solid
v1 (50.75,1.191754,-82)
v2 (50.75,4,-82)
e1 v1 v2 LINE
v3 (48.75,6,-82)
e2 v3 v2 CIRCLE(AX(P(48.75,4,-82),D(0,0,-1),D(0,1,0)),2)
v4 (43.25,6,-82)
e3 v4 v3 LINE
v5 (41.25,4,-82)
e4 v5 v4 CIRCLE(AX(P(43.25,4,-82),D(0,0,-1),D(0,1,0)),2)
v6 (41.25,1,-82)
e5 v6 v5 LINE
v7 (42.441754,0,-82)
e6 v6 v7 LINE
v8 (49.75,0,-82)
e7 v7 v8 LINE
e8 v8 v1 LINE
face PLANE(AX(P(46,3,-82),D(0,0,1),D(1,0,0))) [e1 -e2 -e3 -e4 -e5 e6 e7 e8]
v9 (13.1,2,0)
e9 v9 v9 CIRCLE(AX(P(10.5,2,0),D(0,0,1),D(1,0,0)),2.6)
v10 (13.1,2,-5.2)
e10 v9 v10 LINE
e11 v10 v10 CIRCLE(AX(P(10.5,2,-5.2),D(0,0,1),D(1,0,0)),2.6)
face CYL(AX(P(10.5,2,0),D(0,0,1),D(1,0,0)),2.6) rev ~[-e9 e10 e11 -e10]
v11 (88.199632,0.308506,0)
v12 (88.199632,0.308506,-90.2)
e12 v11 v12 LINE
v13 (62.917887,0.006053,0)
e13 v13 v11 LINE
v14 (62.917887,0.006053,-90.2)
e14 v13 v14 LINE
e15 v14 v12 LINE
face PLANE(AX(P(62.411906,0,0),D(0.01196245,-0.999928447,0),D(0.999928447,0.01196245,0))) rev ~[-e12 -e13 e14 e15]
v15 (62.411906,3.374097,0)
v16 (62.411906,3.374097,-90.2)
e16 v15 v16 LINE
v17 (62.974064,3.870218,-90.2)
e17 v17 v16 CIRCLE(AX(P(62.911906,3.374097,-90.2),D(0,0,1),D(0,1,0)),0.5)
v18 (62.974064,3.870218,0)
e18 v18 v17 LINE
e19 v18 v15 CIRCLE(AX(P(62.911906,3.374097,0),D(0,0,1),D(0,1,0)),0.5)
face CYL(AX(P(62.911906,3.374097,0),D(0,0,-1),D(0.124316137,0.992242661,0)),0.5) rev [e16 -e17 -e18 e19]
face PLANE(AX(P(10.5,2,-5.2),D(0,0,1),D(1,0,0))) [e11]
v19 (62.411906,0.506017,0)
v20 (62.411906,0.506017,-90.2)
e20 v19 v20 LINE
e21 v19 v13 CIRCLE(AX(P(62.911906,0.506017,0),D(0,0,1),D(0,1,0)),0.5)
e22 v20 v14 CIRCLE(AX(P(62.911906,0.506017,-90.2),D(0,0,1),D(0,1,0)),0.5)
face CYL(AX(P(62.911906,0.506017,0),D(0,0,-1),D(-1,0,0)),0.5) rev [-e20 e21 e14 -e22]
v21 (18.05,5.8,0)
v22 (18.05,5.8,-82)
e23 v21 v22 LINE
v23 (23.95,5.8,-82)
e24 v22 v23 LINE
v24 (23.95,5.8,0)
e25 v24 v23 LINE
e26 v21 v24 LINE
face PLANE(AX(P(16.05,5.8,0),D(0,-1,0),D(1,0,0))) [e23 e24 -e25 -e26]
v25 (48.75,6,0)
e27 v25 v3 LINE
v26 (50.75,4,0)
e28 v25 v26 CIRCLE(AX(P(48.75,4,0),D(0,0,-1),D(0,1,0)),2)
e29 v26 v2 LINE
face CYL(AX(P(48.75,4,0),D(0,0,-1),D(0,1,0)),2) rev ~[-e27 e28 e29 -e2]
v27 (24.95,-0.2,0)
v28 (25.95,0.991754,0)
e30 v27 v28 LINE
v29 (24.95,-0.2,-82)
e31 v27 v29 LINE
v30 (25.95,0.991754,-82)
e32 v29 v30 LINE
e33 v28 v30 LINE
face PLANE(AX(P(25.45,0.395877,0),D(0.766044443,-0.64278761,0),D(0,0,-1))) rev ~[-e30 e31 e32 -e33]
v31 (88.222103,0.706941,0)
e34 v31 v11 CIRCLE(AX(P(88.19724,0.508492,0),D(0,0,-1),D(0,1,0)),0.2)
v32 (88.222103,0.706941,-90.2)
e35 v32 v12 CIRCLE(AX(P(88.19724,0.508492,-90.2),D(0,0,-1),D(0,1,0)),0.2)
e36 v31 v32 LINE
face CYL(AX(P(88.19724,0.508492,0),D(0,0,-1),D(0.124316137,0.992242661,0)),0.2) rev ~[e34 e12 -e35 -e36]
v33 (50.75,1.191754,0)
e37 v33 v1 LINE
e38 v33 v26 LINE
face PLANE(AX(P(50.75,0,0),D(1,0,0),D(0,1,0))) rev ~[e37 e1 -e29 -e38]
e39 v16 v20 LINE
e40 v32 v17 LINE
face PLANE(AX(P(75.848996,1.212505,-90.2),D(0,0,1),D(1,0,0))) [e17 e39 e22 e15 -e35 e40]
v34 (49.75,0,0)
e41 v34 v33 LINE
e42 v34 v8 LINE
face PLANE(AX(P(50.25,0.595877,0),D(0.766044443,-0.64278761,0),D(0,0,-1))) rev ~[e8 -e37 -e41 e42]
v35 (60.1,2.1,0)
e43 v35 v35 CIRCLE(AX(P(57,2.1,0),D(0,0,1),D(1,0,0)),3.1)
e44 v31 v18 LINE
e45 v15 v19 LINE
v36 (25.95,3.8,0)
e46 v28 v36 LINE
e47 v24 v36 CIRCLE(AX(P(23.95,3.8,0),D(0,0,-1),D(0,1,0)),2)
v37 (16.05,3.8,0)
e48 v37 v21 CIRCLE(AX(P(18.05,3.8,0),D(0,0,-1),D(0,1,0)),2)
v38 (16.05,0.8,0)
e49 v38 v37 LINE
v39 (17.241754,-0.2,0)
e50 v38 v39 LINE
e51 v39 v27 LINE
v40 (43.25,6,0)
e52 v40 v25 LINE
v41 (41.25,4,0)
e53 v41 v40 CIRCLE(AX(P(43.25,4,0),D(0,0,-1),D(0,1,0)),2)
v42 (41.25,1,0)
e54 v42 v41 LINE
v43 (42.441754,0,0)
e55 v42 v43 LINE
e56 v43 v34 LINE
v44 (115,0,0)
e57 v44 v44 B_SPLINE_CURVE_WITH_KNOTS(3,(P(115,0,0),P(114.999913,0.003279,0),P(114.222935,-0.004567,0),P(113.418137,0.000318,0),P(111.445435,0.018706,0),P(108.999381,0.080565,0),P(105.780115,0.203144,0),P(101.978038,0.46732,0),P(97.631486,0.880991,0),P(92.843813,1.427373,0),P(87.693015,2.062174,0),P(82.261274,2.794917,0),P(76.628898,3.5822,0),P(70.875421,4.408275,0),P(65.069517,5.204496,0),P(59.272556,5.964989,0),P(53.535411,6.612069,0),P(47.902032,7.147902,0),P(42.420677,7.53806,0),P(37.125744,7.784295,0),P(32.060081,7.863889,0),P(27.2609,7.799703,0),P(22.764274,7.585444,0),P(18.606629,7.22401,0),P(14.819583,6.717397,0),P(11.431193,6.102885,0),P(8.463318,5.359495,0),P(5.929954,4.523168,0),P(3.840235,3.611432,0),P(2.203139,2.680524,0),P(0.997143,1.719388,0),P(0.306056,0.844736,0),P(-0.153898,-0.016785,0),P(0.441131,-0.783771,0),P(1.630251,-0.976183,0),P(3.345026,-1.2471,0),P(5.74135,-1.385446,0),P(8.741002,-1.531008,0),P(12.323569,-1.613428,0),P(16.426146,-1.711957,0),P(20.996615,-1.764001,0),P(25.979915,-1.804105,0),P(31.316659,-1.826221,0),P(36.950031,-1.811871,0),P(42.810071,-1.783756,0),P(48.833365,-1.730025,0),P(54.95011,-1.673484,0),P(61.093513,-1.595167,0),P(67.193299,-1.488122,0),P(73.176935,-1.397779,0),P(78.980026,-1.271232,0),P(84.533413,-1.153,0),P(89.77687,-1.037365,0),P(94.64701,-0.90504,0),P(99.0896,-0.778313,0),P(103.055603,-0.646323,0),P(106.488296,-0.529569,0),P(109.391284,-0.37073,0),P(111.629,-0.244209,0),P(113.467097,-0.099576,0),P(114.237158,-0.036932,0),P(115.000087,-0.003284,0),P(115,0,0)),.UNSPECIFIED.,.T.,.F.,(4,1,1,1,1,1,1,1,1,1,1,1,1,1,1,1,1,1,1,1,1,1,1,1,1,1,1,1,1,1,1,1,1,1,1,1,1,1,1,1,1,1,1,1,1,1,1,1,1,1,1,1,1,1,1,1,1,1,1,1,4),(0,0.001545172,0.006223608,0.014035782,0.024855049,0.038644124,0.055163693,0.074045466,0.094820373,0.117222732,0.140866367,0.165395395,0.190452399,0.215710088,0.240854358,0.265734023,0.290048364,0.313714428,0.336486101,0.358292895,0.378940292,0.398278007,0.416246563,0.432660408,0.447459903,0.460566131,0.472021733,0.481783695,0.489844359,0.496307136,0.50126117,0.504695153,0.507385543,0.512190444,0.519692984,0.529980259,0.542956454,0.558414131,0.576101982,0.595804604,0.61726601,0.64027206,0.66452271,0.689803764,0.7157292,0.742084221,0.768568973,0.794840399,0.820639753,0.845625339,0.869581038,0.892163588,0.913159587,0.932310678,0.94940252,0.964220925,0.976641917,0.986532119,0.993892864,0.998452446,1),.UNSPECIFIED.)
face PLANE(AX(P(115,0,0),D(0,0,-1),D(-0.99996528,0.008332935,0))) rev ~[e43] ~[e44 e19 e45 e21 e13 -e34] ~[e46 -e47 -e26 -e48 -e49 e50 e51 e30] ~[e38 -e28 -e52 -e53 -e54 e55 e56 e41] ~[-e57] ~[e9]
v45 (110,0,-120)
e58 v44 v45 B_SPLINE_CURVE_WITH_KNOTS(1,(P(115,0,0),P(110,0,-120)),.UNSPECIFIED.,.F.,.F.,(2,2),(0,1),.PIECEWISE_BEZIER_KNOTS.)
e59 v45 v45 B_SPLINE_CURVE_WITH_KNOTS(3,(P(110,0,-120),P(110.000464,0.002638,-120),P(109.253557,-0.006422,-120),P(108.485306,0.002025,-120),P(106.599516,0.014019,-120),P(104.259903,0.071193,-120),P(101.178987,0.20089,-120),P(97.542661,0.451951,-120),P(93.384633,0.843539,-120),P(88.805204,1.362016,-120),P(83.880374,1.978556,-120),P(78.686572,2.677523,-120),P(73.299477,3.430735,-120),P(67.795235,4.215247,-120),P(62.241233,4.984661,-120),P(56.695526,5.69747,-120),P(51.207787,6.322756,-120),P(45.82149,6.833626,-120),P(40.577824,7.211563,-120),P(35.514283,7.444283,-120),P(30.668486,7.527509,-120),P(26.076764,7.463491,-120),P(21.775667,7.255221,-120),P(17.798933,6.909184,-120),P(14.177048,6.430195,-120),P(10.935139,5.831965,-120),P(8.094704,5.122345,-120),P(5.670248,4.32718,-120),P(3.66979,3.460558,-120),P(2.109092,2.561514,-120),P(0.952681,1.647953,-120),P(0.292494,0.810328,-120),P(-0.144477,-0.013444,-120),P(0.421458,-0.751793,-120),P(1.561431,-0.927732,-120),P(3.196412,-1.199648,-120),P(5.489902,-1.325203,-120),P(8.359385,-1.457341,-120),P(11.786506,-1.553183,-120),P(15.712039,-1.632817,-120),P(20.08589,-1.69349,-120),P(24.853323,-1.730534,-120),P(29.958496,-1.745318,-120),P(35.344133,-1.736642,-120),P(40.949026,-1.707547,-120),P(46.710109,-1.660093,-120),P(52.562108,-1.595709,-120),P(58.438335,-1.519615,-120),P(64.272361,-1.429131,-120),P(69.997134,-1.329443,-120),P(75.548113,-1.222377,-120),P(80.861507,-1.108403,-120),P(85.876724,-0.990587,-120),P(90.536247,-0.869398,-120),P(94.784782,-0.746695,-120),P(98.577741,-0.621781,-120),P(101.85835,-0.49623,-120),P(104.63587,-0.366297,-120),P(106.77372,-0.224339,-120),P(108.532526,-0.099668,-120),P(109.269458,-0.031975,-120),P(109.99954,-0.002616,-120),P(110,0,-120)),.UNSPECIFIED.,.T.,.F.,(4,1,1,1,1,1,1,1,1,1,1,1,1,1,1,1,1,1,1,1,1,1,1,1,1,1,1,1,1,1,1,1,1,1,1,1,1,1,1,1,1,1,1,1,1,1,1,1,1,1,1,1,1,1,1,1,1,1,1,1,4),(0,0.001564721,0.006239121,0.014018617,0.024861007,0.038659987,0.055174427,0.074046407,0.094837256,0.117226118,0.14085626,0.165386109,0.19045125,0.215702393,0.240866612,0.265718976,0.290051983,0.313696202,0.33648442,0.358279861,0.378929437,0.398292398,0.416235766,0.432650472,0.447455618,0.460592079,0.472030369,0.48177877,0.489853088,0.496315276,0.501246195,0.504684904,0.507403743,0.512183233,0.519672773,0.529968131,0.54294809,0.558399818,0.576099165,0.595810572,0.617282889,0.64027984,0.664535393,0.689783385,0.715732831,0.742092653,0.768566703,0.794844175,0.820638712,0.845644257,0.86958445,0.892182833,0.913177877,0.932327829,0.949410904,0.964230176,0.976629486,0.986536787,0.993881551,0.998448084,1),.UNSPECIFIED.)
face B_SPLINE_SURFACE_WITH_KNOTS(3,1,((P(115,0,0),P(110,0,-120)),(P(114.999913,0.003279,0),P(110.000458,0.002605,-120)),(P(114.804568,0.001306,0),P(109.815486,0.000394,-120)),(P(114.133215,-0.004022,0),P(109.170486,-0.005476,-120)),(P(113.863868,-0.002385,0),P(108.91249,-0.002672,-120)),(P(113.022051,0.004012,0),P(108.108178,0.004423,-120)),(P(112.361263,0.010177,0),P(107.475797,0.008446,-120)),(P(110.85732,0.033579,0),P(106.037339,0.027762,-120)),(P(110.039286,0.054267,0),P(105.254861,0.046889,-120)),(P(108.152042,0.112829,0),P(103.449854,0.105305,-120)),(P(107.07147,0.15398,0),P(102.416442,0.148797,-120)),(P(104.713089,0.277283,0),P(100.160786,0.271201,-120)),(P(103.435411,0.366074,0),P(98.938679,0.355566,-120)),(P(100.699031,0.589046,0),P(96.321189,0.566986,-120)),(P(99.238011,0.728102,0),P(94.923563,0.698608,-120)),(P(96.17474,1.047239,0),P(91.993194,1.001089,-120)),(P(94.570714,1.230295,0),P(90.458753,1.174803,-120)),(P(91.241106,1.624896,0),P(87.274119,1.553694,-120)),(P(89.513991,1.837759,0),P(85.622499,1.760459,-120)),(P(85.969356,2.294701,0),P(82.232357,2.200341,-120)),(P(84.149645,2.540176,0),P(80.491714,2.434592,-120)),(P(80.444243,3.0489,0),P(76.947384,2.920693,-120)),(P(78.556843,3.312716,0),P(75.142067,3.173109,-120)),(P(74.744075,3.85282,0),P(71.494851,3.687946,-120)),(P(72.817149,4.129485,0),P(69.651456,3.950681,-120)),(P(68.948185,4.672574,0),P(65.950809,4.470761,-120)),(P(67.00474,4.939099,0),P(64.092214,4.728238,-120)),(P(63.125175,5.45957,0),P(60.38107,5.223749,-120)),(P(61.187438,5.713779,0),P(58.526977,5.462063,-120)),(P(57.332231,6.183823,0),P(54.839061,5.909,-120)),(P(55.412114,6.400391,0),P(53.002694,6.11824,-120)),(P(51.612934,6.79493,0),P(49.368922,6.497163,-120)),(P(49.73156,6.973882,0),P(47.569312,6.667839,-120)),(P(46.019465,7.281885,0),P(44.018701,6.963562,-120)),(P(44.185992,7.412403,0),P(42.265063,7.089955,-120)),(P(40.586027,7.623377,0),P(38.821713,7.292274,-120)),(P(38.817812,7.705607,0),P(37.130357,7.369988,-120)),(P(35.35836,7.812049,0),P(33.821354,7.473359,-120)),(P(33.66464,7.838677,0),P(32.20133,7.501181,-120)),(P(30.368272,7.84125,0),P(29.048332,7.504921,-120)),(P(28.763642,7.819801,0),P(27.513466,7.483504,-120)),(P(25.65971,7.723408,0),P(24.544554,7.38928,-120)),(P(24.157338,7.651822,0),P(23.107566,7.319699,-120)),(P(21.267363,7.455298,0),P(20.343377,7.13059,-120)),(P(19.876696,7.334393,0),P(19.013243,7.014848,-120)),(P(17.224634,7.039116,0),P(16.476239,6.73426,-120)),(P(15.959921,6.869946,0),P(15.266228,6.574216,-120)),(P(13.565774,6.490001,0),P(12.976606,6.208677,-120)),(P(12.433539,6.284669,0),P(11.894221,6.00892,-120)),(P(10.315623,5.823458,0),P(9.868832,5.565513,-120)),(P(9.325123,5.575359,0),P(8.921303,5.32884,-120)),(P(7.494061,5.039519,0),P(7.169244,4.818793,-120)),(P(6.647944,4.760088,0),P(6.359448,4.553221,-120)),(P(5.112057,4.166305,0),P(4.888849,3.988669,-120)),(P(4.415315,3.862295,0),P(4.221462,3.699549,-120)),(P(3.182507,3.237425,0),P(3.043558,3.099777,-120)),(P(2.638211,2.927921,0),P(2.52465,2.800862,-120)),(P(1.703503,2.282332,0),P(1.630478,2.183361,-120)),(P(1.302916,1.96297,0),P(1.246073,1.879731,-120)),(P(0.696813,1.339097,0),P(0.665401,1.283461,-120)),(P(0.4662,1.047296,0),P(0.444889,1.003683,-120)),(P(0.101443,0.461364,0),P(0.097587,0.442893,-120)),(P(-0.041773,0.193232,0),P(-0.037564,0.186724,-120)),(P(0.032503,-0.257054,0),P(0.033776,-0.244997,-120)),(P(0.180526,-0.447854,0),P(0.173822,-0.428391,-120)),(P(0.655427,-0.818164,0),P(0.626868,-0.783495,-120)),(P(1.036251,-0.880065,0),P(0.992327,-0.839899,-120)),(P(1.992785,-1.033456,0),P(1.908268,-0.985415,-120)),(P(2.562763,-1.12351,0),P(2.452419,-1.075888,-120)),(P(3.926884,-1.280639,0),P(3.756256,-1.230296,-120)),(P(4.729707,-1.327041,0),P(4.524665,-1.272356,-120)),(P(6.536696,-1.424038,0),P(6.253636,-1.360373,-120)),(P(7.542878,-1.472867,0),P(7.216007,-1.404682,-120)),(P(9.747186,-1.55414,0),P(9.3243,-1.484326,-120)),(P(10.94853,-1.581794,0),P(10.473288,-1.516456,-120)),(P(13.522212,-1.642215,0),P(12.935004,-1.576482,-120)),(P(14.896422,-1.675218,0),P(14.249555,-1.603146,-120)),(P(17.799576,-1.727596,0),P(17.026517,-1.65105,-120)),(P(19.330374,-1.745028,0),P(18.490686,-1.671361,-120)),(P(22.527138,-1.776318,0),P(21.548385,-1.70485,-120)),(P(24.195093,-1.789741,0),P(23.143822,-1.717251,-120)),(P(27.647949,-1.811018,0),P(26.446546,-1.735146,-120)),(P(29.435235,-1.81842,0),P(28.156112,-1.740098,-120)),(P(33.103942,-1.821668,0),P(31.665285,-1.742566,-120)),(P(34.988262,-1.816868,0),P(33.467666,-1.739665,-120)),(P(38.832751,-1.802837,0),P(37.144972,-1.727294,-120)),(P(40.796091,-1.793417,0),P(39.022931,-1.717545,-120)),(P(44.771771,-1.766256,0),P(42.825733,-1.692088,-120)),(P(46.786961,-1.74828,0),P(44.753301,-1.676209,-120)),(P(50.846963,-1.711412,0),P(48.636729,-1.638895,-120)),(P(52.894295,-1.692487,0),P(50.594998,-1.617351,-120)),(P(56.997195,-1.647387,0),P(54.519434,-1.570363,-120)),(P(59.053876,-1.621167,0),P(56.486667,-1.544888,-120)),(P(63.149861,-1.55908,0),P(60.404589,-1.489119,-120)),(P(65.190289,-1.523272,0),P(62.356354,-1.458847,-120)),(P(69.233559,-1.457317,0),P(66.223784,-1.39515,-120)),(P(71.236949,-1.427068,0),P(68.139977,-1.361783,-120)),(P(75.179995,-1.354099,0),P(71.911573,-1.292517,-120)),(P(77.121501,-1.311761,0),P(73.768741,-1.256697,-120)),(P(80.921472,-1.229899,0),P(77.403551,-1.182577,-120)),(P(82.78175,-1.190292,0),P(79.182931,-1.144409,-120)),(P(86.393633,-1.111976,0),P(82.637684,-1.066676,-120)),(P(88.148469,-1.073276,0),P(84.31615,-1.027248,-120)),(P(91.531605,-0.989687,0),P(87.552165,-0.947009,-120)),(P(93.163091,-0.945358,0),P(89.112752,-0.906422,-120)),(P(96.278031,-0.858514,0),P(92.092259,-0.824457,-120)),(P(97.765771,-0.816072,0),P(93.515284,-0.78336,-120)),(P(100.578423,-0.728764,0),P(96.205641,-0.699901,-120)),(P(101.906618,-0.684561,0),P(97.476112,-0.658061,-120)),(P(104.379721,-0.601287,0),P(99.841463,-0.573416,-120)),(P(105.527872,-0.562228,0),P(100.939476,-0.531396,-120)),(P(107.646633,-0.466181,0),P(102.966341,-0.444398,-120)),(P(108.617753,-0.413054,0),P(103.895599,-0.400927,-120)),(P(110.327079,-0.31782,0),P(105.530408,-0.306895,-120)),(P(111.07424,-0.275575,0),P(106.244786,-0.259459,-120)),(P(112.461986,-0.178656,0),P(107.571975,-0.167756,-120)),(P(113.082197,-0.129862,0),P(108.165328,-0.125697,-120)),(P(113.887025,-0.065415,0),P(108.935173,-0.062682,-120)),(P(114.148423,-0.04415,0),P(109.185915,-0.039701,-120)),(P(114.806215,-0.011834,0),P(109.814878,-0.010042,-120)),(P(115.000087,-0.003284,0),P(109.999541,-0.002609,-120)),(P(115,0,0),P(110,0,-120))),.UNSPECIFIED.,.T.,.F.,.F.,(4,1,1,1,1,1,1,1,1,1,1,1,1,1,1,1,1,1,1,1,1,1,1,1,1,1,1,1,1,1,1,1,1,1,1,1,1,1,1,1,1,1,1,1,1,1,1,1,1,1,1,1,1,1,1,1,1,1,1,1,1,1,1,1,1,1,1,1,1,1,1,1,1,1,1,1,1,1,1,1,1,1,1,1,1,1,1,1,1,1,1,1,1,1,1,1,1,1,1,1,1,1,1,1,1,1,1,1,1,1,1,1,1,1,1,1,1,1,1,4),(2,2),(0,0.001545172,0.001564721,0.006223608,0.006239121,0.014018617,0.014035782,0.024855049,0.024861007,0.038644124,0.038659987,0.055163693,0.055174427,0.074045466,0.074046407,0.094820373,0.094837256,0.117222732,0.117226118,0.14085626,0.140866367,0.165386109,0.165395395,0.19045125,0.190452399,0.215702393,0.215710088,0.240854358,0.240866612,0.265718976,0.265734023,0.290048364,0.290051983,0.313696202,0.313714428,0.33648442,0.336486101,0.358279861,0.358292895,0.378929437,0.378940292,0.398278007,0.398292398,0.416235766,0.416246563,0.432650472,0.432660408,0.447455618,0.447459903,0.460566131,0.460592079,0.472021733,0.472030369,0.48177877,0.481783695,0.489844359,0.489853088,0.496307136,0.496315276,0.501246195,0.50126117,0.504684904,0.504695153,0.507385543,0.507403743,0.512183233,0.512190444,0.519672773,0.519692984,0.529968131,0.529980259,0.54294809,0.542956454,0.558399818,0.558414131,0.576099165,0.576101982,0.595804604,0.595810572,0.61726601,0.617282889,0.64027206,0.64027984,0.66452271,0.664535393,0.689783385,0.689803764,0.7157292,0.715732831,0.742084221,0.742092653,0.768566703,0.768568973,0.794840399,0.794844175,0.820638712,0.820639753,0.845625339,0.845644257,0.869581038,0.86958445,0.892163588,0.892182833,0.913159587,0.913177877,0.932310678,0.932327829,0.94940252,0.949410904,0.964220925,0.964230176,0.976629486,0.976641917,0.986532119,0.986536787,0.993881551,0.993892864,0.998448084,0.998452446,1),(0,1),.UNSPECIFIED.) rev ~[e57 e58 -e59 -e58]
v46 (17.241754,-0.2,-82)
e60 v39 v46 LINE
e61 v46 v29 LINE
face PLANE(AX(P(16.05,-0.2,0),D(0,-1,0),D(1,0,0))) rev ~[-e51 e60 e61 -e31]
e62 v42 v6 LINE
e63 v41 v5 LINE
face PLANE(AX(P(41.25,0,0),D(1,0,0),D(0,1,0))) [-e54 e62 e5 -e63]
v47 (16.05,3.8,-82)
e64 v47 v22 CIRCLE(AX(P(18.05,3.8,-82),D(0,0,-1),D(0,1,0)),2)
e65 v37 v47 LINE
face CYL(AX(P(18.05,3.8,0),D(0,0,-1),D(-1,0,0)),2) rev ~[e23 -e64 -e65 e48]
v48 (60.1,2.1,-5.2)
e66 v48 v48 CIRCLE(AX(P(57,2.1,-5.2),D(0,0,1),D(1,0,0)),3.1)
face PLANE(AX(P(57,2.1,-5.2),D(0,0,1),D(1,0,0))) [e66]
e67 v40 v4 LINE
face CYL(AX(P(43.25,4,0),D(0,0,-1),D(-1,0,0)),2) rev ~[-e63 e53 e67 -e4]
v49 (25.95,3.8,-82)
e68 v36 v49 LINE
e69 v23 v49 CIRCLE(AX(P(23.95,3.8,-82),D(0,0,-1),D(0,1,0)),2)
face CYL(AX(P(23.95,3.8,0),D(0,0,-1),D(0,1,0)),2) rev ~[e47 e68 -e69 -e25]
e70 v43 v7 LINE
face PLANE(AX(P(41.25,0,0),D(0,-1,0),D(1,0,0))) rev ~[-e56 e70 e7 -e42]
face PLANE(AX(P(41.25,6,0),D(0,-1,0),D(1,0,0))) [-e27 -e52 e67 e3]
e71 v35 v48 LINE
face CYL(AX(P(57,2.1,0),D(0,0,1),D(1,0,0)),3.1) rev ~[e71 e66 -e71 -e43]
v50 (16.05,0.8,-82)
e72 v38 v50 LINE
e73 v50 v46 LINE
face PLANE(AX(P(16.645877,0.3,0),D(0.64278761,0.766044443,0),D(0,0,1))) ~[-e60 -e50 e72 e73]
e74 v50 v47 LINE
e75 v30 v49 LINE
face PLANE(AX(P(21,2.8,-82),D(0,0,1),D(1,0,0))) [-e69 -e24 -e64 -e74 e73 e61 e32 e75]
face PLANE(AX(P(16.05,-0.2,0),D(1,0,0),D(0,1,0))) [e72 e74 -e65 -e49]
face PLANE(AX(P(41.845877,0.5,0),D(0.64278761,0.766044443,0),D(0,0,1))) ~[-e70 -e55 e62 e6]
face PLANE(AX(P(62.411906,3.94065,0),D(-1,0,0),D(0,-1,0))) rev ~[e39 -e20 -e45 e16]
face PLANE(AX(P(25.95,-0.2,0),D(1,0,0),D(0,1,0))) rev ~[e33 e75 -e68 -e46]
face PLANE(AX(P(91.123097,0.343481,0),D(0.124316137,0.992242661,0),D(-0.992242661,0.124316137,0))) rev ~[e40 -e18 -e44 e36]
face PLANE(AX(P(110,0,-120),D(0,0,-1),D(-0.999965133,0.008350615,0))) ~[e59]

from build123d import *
from OCP.BRepFilletAPI import BRepFilletAPI_MakeChamfer

# Parameters (mm, degrees)
SKETCH4_R          = 2.6
SKETCH4_R_2        = 3.1
CUT_EXTRUDE1_DEPTH = 5.2
SKETCH5_W          = 9.9
SKETCH5_H          = 6
SKETCH5_W_2        = 9.5
CUT_EXTRUDE2_DEPTH = 82
FILLET3_R          = 2
CHAMFER1_SIZE      = 1
CHAMFER1_SIZE2     = 1.191753593
CUT_EXTRUDE3_DEPTH = 90.2
FILLET4_R          = 0.2
FILLET5_R          = 0.5


with BuildPart() as part:
    # Sketch1 → Loft1 section 0
    with BuildSketch(Plane.XY):
        with BuildLine():
            add(Edge.make_bspline(
                [(115, 0), (114.999913382, 0.00327866), (114.222934603, -0.004567066), (113.418136575, 0.000318408), (111.44543546, 0.018706002), (108.999380922, 0.080565277), (105.780115155, 0.203144323), (101.978037922, 0.467320429), (97.63148646, 0.880990765), (92.843812566, 1.427373326), (87.693014802, 2.062174327), (82.26127365, 2.794917392), (76.628898252, 3.582200475), (70.875421432, 4.408274793), (65.069516957, 5.204495648), (59.272555938, 5.964988559), (53.535411353, 6.612069385), (47.902032041, 7.147901639), (42.420677472, 7.538059951), (37.125743857, 7.784294524), (32.060080889, 7.863888962), (27.260899934, 7.799703202), (22.764274035, 7.585443948), (18.606628598, 7.224009749), (14.819582747, 6.717397261), (11.43119341, 6.102885155), (8.463318021, 5.359495242), (5.929953708, 4.523167874), (3.840235227, 3.611431652), (2.203139301, 2.680524392), (0.997143498, 1.719388226), (0.306055902, 0.84473605), (-0.153897847, -0.016785493), (0.441131195, -0.783771302), (1.630250645, -0.976182526), (3.345026164, -1.247099953), (5.741349663, -1.385446358), (8.741002332, -1.531007587), (12.32356917, -1.613427576), (16.426146399, -1.711956772), (20.996614723, -1.764001286), (25.979915364, -1.804105207), (31.316658928, -1.826220598), (36.950031377, -1.811871436), (42.810070502, -1.783755804), (48.833365319, -1.730024981), (54.950109545, -1.67348399), (61.093513049, -1.595166549), (67.193299365, -1.488121719), (73.176935484, -1.397778739), (78.980025922, -1.271232402), (84.533413271, -1.152999753), (89.776869938, -1.037364871), (94.647010434, -0.905039683), (99.089599698, -0.778312882), (103.055602703, -0.646322839), (106.488295637, -0.529569147), (109.391284428, -0.370730171), (111.629000068, -0.244208643), (113.467096811, -0.099576309), (114.237158295, -0.036931621), (115.000086752, -0.003283716), (115, 0)],
                knots=[0, 0, 0, 0, 0.001545172, 0.006223608, 0.014035782, 0.024855049, 0.038644124, 0.055163693, 0.074045466, 0.094820373, 0.117222732, 0.140866367, 0.165395395, 0.190452399, 0.215710088, 0.240854358, 0.265734023, 0.290048364, 0.313714428, 0.336486101, 0.358292895, 0.378940292, 0.398278007, 0.416246563, 0.432660408, 0.447459903, 0.460566131, 0.472021733, 0.481783695, 0.489844359, 0.496307136, 0.50126117, 0.504695153, 0.507385543, 0.512190444, 0.519692984, 0.529980259, 0.542956454, 0.558414131, 0.576101982, 0.595804604, 0.61726601, 0.64027206, 0.66452271, 0.689803764, 0.7157292, 0.742084221, 0.768568973, 0.794840399, 0.820639753, 0.845625339, 0.869581038, 0.892163588, 0.913159587, 0.932310678, 0.94940252, 0.964220925, 0.976641917, 0.986532119, 0.993892864, 0.998452446, 1, 1, 1, 1], degree=3))
        make_face()
    # Sketch2 → Loft1 section 1
    with BuildSketch(Plane.XY.offset(-120)):
        with BuildLine():
            add(Edge.make_bspline(
                [(110, 0), (110.000464145, 0.002638021), (109.253557002, -0.006421882), (108.485306247, 0.00202473), (106.599515685, 0.014018922), (104.259903283, 0.071192731), (101.178986874, 0.200889618), (97.542661477, 0.451950761), (93.384633146, 0.843539364), (88.805204424, 1.362015696), (83.880374164, 1.978555721), (78.68657223, 2.677523385), (73.299477431, 3.430735281), (67.795235431, 4.215247142), (62.241233075, 4.984660857), (56.695525551, 5.697469803), (51.207787306, 6.322755672), (45.821489693, 6.833626486), (40.577824462, 7.211562863), (35.514283248, 7.444282984), (30.668486135, 7.527509184), (26.076763803, 7.463490784), (21.77566696, 7.255221358), (17.798933432, 6.909184212), (14.177047879, 6.430194992), (10.935139134, 5.831964767), (8.094704102, 5.122344568), (5.670248347, 4.327180111), (3.669790047, 3.460558372), (2.10909167, 2.56151381), (0.952680778, 1.647952784), (0.292493833, 0.810328248), (-0.144477468, -0.013443729), (0.421457768, -0.751792674), (1.561430619, -0.927732015), (3.196411713, -1.199647616), (5.489901797, -1.325203312), (8.359384575, -1.457341268), (11.786506209, -1.55318322), (15.712038629, -1.632817261), (20.085890157, -1.693490267), (24.85332264, -1.730533844), (29.958495668, -1.745317698), (35.344133299, -1.736641885), (40.949025669, -1.70754651), (46.710109342, -1.660092686), (52.562107594, -1.595708584), (58.438334584, -1.519615465), (64.272360823, -1.429130605), (69.997133878, -1.329443239), (75.548112692, -1.222377083), (80.861507128, -1.10840335), (85.876724326, -0.990587124), (90.536246874, -0.869398239), (94.784781842, -0.746694986), (98.577741113, -0.621781265), (101.858350076, -0.496229968), (104.635869759, -0.366297292), (106.773720091, -0.224338993), (108.53252638, -0.099668194), (109.269457647, -0.031974616), (109.999539654, -0.002616432), (110, 0)],
                knots=[0, 0, 0, 0, 0.001564721, 0.006239121, 0.014018617, 0.024861007, 0.038659987, 0.055174427, 0.074046407, 0.094837256, 0.117226118, 0.14085626, 0.165386109, 0.19045125, 0.215702393, 0.240866612, 0.265718976, 0.290051983, 0.313696202, 0.33648442, 0.358279861, 0.378929437, 0.398292398, 0.416235766, 0.432650472, 0.447455618, 0.460592079, 0.472030369, 0.48177877, 0.489853088, 0.496315276, 0.501246195, 0.504684904, 0.507403743, 0.512183233, 0.519672773, 0.529968131, 0.54294809, 0.558399818, 0.576099165, 0.595810572, 0.617282889, 0.64027984, 0.664535393, 0.689783385, 0.715732831, 0.742092653, 0.768566703, 0.794844175, 0.820638712, 0.845644257, 0.86958445, 0.892182833, 0.913177877, 0.932327829, 0.949410904, 0.964230176, 0.976629486, 0.986536787, 0.993881551, 0.998448084, 1, 1, 1, 1], degree=3))
        make_face()
    loft()

    # Sketch4 → Cut-Extrude1 (cut)
    with BuildSketch(Plane.XY):
        with Locations((10.5, 2)):
            Circle(SKETCH4_R)
        with Locations((57, 2.1)):
            Circle(SKETCH4_R_2)
    extrude(amount=-CUT_EXTRUDE1_DEPTH, mode=Mode.SUBTRACT)

    # Sketch5 → Cut-Extrude2 (cut)
    with BuildSketch(Plane.XY):
        with Locations((21, 2.8)):
            Rectangle(SKETCH5_W, SKETCH5_H)
        with Locations((46, 3)):
            Rectangle(SKETCH5_W_2, SKETCH5_H)
    extrude(amount=-CUT_EXTRUDE2_DEPTH, mode=Mode.SUBTRACT)

    # Fillet3
    fillet3_edges = [part.edges().sort_by_distance(p)[0] for p in [
        (25.95, 5.8, -41),
        (16.05, 5.8, -41),
        (50.75, 6, -41),
        (41.25, 6, -41),
    ]]
    fillet(fillet3_edges, radius=FILLET3_R)

    # Chamfer1: one chamfer whose edges measure the first distance from different faces: ONE call of the kernel's chamfer builder (chamfer() names one face for all edges)
    chamfer1_edges_1 = [part.edges().sort_by_distance(p)[0] for p in [
        (25.95, -0.2, -41),
    ]]
    chamfer1_side_1 = [part.faces().sort_by_distance(p)[0] for p in [
        (21, -0.2, -41),
    ]]
    chamfer1_edges_2 = [part.edges().sort_by_distance(p)[0] for p in [
        (16.05, -0.2, -41),
    ]]
    chamfer1_side_2 = [part.faces().sort_by_distance(p)[0] for p in [
        (16.05, 1.8, -41),
    ]]
    chamfer1_edges_3 = [part.edges().sort_by_distance(p)[0] for p in [
        (50.75, 0, -41),
    ]]
    chamfer1_side_3 = [part.faces().sort_by_distance(p)[0] for p in [
        (46, 0, -41),
    ]]
    chamfer1_edges_4 = [part.edges().sort_by_distance(p)[0] for p in [
        (41.25, 0, -41),
    ]]
    chamfer1_side_4 = [part.faces().sort_by_distance(p)[0] for p in [
        (41.25, 2, -41),
    ]]
    chamfer1 = BRepFilletAPI_MakeChamfer(part.part.solid().wrapped)
    for e in chamfer1_edges_1:
        chamfer1.Add(CHAMFER1_SIZE, CHAMFER1_SIZE2, e.wrapped, chamfer1_side_1[0].wrapped)  # the first distance lies on this face
    for e in chamfer1_edges_2:
        chamfer1.Add(CHAMFER1_SIZE, CHAMFER1_SIZE2, e.wrapped, chamfer1_side_2[0].wrapped)  # the first distance lies on this face
    for e in chamfer1_edges_3:
        chamfer1.Add(CHAMFER1_SIZE, CHAMFER1_SIZE2, e.wrapped, chamfer1_side_3[0].wrapped)  # the first distance lies on this face
    for e in chamfer1_edges_4:
        chamfer1.Add(CHAMFER1_SIZE, CHAMFER1_SIZE2, e.wrapped, chamfer1_side_4[0].wrapped)  # the first distance lies on this face
    add(Compound.cast(chamfer1.Shape()), mode=Mode.REPLACE)

    # Sketch6 → Cut-Extrude3 (cut)
    with BuildSketch(Plane.XY):
        Polygon((62.411905862, 3.940649629), (62.411905862, 0), (91.123097262, 0.343480777), align=None)
    extrude(amount=-CUT_EXTRUDE3_DEPTH, mode=Mode.SUBTRACT)

    # Fillet4
    fillet4_edges = [part.edges().sort_by_distance(p)[0] for p in [
        (91.123097262, 0.343480777, -45.1),
    ]]
    fillet(fillet4_edges, radius=FILLET4_R)

    # Fillet5
    fillet5_edges = [part.edges().sort_by_distance(p)[0] for p in [
        (62.411905862, 0, -45.1),
        (62.411905862, 3.940649629, -45.1),
    ]]
    fillet(fillet5_edges, radius=FILLET5_R)


solid = part.part
